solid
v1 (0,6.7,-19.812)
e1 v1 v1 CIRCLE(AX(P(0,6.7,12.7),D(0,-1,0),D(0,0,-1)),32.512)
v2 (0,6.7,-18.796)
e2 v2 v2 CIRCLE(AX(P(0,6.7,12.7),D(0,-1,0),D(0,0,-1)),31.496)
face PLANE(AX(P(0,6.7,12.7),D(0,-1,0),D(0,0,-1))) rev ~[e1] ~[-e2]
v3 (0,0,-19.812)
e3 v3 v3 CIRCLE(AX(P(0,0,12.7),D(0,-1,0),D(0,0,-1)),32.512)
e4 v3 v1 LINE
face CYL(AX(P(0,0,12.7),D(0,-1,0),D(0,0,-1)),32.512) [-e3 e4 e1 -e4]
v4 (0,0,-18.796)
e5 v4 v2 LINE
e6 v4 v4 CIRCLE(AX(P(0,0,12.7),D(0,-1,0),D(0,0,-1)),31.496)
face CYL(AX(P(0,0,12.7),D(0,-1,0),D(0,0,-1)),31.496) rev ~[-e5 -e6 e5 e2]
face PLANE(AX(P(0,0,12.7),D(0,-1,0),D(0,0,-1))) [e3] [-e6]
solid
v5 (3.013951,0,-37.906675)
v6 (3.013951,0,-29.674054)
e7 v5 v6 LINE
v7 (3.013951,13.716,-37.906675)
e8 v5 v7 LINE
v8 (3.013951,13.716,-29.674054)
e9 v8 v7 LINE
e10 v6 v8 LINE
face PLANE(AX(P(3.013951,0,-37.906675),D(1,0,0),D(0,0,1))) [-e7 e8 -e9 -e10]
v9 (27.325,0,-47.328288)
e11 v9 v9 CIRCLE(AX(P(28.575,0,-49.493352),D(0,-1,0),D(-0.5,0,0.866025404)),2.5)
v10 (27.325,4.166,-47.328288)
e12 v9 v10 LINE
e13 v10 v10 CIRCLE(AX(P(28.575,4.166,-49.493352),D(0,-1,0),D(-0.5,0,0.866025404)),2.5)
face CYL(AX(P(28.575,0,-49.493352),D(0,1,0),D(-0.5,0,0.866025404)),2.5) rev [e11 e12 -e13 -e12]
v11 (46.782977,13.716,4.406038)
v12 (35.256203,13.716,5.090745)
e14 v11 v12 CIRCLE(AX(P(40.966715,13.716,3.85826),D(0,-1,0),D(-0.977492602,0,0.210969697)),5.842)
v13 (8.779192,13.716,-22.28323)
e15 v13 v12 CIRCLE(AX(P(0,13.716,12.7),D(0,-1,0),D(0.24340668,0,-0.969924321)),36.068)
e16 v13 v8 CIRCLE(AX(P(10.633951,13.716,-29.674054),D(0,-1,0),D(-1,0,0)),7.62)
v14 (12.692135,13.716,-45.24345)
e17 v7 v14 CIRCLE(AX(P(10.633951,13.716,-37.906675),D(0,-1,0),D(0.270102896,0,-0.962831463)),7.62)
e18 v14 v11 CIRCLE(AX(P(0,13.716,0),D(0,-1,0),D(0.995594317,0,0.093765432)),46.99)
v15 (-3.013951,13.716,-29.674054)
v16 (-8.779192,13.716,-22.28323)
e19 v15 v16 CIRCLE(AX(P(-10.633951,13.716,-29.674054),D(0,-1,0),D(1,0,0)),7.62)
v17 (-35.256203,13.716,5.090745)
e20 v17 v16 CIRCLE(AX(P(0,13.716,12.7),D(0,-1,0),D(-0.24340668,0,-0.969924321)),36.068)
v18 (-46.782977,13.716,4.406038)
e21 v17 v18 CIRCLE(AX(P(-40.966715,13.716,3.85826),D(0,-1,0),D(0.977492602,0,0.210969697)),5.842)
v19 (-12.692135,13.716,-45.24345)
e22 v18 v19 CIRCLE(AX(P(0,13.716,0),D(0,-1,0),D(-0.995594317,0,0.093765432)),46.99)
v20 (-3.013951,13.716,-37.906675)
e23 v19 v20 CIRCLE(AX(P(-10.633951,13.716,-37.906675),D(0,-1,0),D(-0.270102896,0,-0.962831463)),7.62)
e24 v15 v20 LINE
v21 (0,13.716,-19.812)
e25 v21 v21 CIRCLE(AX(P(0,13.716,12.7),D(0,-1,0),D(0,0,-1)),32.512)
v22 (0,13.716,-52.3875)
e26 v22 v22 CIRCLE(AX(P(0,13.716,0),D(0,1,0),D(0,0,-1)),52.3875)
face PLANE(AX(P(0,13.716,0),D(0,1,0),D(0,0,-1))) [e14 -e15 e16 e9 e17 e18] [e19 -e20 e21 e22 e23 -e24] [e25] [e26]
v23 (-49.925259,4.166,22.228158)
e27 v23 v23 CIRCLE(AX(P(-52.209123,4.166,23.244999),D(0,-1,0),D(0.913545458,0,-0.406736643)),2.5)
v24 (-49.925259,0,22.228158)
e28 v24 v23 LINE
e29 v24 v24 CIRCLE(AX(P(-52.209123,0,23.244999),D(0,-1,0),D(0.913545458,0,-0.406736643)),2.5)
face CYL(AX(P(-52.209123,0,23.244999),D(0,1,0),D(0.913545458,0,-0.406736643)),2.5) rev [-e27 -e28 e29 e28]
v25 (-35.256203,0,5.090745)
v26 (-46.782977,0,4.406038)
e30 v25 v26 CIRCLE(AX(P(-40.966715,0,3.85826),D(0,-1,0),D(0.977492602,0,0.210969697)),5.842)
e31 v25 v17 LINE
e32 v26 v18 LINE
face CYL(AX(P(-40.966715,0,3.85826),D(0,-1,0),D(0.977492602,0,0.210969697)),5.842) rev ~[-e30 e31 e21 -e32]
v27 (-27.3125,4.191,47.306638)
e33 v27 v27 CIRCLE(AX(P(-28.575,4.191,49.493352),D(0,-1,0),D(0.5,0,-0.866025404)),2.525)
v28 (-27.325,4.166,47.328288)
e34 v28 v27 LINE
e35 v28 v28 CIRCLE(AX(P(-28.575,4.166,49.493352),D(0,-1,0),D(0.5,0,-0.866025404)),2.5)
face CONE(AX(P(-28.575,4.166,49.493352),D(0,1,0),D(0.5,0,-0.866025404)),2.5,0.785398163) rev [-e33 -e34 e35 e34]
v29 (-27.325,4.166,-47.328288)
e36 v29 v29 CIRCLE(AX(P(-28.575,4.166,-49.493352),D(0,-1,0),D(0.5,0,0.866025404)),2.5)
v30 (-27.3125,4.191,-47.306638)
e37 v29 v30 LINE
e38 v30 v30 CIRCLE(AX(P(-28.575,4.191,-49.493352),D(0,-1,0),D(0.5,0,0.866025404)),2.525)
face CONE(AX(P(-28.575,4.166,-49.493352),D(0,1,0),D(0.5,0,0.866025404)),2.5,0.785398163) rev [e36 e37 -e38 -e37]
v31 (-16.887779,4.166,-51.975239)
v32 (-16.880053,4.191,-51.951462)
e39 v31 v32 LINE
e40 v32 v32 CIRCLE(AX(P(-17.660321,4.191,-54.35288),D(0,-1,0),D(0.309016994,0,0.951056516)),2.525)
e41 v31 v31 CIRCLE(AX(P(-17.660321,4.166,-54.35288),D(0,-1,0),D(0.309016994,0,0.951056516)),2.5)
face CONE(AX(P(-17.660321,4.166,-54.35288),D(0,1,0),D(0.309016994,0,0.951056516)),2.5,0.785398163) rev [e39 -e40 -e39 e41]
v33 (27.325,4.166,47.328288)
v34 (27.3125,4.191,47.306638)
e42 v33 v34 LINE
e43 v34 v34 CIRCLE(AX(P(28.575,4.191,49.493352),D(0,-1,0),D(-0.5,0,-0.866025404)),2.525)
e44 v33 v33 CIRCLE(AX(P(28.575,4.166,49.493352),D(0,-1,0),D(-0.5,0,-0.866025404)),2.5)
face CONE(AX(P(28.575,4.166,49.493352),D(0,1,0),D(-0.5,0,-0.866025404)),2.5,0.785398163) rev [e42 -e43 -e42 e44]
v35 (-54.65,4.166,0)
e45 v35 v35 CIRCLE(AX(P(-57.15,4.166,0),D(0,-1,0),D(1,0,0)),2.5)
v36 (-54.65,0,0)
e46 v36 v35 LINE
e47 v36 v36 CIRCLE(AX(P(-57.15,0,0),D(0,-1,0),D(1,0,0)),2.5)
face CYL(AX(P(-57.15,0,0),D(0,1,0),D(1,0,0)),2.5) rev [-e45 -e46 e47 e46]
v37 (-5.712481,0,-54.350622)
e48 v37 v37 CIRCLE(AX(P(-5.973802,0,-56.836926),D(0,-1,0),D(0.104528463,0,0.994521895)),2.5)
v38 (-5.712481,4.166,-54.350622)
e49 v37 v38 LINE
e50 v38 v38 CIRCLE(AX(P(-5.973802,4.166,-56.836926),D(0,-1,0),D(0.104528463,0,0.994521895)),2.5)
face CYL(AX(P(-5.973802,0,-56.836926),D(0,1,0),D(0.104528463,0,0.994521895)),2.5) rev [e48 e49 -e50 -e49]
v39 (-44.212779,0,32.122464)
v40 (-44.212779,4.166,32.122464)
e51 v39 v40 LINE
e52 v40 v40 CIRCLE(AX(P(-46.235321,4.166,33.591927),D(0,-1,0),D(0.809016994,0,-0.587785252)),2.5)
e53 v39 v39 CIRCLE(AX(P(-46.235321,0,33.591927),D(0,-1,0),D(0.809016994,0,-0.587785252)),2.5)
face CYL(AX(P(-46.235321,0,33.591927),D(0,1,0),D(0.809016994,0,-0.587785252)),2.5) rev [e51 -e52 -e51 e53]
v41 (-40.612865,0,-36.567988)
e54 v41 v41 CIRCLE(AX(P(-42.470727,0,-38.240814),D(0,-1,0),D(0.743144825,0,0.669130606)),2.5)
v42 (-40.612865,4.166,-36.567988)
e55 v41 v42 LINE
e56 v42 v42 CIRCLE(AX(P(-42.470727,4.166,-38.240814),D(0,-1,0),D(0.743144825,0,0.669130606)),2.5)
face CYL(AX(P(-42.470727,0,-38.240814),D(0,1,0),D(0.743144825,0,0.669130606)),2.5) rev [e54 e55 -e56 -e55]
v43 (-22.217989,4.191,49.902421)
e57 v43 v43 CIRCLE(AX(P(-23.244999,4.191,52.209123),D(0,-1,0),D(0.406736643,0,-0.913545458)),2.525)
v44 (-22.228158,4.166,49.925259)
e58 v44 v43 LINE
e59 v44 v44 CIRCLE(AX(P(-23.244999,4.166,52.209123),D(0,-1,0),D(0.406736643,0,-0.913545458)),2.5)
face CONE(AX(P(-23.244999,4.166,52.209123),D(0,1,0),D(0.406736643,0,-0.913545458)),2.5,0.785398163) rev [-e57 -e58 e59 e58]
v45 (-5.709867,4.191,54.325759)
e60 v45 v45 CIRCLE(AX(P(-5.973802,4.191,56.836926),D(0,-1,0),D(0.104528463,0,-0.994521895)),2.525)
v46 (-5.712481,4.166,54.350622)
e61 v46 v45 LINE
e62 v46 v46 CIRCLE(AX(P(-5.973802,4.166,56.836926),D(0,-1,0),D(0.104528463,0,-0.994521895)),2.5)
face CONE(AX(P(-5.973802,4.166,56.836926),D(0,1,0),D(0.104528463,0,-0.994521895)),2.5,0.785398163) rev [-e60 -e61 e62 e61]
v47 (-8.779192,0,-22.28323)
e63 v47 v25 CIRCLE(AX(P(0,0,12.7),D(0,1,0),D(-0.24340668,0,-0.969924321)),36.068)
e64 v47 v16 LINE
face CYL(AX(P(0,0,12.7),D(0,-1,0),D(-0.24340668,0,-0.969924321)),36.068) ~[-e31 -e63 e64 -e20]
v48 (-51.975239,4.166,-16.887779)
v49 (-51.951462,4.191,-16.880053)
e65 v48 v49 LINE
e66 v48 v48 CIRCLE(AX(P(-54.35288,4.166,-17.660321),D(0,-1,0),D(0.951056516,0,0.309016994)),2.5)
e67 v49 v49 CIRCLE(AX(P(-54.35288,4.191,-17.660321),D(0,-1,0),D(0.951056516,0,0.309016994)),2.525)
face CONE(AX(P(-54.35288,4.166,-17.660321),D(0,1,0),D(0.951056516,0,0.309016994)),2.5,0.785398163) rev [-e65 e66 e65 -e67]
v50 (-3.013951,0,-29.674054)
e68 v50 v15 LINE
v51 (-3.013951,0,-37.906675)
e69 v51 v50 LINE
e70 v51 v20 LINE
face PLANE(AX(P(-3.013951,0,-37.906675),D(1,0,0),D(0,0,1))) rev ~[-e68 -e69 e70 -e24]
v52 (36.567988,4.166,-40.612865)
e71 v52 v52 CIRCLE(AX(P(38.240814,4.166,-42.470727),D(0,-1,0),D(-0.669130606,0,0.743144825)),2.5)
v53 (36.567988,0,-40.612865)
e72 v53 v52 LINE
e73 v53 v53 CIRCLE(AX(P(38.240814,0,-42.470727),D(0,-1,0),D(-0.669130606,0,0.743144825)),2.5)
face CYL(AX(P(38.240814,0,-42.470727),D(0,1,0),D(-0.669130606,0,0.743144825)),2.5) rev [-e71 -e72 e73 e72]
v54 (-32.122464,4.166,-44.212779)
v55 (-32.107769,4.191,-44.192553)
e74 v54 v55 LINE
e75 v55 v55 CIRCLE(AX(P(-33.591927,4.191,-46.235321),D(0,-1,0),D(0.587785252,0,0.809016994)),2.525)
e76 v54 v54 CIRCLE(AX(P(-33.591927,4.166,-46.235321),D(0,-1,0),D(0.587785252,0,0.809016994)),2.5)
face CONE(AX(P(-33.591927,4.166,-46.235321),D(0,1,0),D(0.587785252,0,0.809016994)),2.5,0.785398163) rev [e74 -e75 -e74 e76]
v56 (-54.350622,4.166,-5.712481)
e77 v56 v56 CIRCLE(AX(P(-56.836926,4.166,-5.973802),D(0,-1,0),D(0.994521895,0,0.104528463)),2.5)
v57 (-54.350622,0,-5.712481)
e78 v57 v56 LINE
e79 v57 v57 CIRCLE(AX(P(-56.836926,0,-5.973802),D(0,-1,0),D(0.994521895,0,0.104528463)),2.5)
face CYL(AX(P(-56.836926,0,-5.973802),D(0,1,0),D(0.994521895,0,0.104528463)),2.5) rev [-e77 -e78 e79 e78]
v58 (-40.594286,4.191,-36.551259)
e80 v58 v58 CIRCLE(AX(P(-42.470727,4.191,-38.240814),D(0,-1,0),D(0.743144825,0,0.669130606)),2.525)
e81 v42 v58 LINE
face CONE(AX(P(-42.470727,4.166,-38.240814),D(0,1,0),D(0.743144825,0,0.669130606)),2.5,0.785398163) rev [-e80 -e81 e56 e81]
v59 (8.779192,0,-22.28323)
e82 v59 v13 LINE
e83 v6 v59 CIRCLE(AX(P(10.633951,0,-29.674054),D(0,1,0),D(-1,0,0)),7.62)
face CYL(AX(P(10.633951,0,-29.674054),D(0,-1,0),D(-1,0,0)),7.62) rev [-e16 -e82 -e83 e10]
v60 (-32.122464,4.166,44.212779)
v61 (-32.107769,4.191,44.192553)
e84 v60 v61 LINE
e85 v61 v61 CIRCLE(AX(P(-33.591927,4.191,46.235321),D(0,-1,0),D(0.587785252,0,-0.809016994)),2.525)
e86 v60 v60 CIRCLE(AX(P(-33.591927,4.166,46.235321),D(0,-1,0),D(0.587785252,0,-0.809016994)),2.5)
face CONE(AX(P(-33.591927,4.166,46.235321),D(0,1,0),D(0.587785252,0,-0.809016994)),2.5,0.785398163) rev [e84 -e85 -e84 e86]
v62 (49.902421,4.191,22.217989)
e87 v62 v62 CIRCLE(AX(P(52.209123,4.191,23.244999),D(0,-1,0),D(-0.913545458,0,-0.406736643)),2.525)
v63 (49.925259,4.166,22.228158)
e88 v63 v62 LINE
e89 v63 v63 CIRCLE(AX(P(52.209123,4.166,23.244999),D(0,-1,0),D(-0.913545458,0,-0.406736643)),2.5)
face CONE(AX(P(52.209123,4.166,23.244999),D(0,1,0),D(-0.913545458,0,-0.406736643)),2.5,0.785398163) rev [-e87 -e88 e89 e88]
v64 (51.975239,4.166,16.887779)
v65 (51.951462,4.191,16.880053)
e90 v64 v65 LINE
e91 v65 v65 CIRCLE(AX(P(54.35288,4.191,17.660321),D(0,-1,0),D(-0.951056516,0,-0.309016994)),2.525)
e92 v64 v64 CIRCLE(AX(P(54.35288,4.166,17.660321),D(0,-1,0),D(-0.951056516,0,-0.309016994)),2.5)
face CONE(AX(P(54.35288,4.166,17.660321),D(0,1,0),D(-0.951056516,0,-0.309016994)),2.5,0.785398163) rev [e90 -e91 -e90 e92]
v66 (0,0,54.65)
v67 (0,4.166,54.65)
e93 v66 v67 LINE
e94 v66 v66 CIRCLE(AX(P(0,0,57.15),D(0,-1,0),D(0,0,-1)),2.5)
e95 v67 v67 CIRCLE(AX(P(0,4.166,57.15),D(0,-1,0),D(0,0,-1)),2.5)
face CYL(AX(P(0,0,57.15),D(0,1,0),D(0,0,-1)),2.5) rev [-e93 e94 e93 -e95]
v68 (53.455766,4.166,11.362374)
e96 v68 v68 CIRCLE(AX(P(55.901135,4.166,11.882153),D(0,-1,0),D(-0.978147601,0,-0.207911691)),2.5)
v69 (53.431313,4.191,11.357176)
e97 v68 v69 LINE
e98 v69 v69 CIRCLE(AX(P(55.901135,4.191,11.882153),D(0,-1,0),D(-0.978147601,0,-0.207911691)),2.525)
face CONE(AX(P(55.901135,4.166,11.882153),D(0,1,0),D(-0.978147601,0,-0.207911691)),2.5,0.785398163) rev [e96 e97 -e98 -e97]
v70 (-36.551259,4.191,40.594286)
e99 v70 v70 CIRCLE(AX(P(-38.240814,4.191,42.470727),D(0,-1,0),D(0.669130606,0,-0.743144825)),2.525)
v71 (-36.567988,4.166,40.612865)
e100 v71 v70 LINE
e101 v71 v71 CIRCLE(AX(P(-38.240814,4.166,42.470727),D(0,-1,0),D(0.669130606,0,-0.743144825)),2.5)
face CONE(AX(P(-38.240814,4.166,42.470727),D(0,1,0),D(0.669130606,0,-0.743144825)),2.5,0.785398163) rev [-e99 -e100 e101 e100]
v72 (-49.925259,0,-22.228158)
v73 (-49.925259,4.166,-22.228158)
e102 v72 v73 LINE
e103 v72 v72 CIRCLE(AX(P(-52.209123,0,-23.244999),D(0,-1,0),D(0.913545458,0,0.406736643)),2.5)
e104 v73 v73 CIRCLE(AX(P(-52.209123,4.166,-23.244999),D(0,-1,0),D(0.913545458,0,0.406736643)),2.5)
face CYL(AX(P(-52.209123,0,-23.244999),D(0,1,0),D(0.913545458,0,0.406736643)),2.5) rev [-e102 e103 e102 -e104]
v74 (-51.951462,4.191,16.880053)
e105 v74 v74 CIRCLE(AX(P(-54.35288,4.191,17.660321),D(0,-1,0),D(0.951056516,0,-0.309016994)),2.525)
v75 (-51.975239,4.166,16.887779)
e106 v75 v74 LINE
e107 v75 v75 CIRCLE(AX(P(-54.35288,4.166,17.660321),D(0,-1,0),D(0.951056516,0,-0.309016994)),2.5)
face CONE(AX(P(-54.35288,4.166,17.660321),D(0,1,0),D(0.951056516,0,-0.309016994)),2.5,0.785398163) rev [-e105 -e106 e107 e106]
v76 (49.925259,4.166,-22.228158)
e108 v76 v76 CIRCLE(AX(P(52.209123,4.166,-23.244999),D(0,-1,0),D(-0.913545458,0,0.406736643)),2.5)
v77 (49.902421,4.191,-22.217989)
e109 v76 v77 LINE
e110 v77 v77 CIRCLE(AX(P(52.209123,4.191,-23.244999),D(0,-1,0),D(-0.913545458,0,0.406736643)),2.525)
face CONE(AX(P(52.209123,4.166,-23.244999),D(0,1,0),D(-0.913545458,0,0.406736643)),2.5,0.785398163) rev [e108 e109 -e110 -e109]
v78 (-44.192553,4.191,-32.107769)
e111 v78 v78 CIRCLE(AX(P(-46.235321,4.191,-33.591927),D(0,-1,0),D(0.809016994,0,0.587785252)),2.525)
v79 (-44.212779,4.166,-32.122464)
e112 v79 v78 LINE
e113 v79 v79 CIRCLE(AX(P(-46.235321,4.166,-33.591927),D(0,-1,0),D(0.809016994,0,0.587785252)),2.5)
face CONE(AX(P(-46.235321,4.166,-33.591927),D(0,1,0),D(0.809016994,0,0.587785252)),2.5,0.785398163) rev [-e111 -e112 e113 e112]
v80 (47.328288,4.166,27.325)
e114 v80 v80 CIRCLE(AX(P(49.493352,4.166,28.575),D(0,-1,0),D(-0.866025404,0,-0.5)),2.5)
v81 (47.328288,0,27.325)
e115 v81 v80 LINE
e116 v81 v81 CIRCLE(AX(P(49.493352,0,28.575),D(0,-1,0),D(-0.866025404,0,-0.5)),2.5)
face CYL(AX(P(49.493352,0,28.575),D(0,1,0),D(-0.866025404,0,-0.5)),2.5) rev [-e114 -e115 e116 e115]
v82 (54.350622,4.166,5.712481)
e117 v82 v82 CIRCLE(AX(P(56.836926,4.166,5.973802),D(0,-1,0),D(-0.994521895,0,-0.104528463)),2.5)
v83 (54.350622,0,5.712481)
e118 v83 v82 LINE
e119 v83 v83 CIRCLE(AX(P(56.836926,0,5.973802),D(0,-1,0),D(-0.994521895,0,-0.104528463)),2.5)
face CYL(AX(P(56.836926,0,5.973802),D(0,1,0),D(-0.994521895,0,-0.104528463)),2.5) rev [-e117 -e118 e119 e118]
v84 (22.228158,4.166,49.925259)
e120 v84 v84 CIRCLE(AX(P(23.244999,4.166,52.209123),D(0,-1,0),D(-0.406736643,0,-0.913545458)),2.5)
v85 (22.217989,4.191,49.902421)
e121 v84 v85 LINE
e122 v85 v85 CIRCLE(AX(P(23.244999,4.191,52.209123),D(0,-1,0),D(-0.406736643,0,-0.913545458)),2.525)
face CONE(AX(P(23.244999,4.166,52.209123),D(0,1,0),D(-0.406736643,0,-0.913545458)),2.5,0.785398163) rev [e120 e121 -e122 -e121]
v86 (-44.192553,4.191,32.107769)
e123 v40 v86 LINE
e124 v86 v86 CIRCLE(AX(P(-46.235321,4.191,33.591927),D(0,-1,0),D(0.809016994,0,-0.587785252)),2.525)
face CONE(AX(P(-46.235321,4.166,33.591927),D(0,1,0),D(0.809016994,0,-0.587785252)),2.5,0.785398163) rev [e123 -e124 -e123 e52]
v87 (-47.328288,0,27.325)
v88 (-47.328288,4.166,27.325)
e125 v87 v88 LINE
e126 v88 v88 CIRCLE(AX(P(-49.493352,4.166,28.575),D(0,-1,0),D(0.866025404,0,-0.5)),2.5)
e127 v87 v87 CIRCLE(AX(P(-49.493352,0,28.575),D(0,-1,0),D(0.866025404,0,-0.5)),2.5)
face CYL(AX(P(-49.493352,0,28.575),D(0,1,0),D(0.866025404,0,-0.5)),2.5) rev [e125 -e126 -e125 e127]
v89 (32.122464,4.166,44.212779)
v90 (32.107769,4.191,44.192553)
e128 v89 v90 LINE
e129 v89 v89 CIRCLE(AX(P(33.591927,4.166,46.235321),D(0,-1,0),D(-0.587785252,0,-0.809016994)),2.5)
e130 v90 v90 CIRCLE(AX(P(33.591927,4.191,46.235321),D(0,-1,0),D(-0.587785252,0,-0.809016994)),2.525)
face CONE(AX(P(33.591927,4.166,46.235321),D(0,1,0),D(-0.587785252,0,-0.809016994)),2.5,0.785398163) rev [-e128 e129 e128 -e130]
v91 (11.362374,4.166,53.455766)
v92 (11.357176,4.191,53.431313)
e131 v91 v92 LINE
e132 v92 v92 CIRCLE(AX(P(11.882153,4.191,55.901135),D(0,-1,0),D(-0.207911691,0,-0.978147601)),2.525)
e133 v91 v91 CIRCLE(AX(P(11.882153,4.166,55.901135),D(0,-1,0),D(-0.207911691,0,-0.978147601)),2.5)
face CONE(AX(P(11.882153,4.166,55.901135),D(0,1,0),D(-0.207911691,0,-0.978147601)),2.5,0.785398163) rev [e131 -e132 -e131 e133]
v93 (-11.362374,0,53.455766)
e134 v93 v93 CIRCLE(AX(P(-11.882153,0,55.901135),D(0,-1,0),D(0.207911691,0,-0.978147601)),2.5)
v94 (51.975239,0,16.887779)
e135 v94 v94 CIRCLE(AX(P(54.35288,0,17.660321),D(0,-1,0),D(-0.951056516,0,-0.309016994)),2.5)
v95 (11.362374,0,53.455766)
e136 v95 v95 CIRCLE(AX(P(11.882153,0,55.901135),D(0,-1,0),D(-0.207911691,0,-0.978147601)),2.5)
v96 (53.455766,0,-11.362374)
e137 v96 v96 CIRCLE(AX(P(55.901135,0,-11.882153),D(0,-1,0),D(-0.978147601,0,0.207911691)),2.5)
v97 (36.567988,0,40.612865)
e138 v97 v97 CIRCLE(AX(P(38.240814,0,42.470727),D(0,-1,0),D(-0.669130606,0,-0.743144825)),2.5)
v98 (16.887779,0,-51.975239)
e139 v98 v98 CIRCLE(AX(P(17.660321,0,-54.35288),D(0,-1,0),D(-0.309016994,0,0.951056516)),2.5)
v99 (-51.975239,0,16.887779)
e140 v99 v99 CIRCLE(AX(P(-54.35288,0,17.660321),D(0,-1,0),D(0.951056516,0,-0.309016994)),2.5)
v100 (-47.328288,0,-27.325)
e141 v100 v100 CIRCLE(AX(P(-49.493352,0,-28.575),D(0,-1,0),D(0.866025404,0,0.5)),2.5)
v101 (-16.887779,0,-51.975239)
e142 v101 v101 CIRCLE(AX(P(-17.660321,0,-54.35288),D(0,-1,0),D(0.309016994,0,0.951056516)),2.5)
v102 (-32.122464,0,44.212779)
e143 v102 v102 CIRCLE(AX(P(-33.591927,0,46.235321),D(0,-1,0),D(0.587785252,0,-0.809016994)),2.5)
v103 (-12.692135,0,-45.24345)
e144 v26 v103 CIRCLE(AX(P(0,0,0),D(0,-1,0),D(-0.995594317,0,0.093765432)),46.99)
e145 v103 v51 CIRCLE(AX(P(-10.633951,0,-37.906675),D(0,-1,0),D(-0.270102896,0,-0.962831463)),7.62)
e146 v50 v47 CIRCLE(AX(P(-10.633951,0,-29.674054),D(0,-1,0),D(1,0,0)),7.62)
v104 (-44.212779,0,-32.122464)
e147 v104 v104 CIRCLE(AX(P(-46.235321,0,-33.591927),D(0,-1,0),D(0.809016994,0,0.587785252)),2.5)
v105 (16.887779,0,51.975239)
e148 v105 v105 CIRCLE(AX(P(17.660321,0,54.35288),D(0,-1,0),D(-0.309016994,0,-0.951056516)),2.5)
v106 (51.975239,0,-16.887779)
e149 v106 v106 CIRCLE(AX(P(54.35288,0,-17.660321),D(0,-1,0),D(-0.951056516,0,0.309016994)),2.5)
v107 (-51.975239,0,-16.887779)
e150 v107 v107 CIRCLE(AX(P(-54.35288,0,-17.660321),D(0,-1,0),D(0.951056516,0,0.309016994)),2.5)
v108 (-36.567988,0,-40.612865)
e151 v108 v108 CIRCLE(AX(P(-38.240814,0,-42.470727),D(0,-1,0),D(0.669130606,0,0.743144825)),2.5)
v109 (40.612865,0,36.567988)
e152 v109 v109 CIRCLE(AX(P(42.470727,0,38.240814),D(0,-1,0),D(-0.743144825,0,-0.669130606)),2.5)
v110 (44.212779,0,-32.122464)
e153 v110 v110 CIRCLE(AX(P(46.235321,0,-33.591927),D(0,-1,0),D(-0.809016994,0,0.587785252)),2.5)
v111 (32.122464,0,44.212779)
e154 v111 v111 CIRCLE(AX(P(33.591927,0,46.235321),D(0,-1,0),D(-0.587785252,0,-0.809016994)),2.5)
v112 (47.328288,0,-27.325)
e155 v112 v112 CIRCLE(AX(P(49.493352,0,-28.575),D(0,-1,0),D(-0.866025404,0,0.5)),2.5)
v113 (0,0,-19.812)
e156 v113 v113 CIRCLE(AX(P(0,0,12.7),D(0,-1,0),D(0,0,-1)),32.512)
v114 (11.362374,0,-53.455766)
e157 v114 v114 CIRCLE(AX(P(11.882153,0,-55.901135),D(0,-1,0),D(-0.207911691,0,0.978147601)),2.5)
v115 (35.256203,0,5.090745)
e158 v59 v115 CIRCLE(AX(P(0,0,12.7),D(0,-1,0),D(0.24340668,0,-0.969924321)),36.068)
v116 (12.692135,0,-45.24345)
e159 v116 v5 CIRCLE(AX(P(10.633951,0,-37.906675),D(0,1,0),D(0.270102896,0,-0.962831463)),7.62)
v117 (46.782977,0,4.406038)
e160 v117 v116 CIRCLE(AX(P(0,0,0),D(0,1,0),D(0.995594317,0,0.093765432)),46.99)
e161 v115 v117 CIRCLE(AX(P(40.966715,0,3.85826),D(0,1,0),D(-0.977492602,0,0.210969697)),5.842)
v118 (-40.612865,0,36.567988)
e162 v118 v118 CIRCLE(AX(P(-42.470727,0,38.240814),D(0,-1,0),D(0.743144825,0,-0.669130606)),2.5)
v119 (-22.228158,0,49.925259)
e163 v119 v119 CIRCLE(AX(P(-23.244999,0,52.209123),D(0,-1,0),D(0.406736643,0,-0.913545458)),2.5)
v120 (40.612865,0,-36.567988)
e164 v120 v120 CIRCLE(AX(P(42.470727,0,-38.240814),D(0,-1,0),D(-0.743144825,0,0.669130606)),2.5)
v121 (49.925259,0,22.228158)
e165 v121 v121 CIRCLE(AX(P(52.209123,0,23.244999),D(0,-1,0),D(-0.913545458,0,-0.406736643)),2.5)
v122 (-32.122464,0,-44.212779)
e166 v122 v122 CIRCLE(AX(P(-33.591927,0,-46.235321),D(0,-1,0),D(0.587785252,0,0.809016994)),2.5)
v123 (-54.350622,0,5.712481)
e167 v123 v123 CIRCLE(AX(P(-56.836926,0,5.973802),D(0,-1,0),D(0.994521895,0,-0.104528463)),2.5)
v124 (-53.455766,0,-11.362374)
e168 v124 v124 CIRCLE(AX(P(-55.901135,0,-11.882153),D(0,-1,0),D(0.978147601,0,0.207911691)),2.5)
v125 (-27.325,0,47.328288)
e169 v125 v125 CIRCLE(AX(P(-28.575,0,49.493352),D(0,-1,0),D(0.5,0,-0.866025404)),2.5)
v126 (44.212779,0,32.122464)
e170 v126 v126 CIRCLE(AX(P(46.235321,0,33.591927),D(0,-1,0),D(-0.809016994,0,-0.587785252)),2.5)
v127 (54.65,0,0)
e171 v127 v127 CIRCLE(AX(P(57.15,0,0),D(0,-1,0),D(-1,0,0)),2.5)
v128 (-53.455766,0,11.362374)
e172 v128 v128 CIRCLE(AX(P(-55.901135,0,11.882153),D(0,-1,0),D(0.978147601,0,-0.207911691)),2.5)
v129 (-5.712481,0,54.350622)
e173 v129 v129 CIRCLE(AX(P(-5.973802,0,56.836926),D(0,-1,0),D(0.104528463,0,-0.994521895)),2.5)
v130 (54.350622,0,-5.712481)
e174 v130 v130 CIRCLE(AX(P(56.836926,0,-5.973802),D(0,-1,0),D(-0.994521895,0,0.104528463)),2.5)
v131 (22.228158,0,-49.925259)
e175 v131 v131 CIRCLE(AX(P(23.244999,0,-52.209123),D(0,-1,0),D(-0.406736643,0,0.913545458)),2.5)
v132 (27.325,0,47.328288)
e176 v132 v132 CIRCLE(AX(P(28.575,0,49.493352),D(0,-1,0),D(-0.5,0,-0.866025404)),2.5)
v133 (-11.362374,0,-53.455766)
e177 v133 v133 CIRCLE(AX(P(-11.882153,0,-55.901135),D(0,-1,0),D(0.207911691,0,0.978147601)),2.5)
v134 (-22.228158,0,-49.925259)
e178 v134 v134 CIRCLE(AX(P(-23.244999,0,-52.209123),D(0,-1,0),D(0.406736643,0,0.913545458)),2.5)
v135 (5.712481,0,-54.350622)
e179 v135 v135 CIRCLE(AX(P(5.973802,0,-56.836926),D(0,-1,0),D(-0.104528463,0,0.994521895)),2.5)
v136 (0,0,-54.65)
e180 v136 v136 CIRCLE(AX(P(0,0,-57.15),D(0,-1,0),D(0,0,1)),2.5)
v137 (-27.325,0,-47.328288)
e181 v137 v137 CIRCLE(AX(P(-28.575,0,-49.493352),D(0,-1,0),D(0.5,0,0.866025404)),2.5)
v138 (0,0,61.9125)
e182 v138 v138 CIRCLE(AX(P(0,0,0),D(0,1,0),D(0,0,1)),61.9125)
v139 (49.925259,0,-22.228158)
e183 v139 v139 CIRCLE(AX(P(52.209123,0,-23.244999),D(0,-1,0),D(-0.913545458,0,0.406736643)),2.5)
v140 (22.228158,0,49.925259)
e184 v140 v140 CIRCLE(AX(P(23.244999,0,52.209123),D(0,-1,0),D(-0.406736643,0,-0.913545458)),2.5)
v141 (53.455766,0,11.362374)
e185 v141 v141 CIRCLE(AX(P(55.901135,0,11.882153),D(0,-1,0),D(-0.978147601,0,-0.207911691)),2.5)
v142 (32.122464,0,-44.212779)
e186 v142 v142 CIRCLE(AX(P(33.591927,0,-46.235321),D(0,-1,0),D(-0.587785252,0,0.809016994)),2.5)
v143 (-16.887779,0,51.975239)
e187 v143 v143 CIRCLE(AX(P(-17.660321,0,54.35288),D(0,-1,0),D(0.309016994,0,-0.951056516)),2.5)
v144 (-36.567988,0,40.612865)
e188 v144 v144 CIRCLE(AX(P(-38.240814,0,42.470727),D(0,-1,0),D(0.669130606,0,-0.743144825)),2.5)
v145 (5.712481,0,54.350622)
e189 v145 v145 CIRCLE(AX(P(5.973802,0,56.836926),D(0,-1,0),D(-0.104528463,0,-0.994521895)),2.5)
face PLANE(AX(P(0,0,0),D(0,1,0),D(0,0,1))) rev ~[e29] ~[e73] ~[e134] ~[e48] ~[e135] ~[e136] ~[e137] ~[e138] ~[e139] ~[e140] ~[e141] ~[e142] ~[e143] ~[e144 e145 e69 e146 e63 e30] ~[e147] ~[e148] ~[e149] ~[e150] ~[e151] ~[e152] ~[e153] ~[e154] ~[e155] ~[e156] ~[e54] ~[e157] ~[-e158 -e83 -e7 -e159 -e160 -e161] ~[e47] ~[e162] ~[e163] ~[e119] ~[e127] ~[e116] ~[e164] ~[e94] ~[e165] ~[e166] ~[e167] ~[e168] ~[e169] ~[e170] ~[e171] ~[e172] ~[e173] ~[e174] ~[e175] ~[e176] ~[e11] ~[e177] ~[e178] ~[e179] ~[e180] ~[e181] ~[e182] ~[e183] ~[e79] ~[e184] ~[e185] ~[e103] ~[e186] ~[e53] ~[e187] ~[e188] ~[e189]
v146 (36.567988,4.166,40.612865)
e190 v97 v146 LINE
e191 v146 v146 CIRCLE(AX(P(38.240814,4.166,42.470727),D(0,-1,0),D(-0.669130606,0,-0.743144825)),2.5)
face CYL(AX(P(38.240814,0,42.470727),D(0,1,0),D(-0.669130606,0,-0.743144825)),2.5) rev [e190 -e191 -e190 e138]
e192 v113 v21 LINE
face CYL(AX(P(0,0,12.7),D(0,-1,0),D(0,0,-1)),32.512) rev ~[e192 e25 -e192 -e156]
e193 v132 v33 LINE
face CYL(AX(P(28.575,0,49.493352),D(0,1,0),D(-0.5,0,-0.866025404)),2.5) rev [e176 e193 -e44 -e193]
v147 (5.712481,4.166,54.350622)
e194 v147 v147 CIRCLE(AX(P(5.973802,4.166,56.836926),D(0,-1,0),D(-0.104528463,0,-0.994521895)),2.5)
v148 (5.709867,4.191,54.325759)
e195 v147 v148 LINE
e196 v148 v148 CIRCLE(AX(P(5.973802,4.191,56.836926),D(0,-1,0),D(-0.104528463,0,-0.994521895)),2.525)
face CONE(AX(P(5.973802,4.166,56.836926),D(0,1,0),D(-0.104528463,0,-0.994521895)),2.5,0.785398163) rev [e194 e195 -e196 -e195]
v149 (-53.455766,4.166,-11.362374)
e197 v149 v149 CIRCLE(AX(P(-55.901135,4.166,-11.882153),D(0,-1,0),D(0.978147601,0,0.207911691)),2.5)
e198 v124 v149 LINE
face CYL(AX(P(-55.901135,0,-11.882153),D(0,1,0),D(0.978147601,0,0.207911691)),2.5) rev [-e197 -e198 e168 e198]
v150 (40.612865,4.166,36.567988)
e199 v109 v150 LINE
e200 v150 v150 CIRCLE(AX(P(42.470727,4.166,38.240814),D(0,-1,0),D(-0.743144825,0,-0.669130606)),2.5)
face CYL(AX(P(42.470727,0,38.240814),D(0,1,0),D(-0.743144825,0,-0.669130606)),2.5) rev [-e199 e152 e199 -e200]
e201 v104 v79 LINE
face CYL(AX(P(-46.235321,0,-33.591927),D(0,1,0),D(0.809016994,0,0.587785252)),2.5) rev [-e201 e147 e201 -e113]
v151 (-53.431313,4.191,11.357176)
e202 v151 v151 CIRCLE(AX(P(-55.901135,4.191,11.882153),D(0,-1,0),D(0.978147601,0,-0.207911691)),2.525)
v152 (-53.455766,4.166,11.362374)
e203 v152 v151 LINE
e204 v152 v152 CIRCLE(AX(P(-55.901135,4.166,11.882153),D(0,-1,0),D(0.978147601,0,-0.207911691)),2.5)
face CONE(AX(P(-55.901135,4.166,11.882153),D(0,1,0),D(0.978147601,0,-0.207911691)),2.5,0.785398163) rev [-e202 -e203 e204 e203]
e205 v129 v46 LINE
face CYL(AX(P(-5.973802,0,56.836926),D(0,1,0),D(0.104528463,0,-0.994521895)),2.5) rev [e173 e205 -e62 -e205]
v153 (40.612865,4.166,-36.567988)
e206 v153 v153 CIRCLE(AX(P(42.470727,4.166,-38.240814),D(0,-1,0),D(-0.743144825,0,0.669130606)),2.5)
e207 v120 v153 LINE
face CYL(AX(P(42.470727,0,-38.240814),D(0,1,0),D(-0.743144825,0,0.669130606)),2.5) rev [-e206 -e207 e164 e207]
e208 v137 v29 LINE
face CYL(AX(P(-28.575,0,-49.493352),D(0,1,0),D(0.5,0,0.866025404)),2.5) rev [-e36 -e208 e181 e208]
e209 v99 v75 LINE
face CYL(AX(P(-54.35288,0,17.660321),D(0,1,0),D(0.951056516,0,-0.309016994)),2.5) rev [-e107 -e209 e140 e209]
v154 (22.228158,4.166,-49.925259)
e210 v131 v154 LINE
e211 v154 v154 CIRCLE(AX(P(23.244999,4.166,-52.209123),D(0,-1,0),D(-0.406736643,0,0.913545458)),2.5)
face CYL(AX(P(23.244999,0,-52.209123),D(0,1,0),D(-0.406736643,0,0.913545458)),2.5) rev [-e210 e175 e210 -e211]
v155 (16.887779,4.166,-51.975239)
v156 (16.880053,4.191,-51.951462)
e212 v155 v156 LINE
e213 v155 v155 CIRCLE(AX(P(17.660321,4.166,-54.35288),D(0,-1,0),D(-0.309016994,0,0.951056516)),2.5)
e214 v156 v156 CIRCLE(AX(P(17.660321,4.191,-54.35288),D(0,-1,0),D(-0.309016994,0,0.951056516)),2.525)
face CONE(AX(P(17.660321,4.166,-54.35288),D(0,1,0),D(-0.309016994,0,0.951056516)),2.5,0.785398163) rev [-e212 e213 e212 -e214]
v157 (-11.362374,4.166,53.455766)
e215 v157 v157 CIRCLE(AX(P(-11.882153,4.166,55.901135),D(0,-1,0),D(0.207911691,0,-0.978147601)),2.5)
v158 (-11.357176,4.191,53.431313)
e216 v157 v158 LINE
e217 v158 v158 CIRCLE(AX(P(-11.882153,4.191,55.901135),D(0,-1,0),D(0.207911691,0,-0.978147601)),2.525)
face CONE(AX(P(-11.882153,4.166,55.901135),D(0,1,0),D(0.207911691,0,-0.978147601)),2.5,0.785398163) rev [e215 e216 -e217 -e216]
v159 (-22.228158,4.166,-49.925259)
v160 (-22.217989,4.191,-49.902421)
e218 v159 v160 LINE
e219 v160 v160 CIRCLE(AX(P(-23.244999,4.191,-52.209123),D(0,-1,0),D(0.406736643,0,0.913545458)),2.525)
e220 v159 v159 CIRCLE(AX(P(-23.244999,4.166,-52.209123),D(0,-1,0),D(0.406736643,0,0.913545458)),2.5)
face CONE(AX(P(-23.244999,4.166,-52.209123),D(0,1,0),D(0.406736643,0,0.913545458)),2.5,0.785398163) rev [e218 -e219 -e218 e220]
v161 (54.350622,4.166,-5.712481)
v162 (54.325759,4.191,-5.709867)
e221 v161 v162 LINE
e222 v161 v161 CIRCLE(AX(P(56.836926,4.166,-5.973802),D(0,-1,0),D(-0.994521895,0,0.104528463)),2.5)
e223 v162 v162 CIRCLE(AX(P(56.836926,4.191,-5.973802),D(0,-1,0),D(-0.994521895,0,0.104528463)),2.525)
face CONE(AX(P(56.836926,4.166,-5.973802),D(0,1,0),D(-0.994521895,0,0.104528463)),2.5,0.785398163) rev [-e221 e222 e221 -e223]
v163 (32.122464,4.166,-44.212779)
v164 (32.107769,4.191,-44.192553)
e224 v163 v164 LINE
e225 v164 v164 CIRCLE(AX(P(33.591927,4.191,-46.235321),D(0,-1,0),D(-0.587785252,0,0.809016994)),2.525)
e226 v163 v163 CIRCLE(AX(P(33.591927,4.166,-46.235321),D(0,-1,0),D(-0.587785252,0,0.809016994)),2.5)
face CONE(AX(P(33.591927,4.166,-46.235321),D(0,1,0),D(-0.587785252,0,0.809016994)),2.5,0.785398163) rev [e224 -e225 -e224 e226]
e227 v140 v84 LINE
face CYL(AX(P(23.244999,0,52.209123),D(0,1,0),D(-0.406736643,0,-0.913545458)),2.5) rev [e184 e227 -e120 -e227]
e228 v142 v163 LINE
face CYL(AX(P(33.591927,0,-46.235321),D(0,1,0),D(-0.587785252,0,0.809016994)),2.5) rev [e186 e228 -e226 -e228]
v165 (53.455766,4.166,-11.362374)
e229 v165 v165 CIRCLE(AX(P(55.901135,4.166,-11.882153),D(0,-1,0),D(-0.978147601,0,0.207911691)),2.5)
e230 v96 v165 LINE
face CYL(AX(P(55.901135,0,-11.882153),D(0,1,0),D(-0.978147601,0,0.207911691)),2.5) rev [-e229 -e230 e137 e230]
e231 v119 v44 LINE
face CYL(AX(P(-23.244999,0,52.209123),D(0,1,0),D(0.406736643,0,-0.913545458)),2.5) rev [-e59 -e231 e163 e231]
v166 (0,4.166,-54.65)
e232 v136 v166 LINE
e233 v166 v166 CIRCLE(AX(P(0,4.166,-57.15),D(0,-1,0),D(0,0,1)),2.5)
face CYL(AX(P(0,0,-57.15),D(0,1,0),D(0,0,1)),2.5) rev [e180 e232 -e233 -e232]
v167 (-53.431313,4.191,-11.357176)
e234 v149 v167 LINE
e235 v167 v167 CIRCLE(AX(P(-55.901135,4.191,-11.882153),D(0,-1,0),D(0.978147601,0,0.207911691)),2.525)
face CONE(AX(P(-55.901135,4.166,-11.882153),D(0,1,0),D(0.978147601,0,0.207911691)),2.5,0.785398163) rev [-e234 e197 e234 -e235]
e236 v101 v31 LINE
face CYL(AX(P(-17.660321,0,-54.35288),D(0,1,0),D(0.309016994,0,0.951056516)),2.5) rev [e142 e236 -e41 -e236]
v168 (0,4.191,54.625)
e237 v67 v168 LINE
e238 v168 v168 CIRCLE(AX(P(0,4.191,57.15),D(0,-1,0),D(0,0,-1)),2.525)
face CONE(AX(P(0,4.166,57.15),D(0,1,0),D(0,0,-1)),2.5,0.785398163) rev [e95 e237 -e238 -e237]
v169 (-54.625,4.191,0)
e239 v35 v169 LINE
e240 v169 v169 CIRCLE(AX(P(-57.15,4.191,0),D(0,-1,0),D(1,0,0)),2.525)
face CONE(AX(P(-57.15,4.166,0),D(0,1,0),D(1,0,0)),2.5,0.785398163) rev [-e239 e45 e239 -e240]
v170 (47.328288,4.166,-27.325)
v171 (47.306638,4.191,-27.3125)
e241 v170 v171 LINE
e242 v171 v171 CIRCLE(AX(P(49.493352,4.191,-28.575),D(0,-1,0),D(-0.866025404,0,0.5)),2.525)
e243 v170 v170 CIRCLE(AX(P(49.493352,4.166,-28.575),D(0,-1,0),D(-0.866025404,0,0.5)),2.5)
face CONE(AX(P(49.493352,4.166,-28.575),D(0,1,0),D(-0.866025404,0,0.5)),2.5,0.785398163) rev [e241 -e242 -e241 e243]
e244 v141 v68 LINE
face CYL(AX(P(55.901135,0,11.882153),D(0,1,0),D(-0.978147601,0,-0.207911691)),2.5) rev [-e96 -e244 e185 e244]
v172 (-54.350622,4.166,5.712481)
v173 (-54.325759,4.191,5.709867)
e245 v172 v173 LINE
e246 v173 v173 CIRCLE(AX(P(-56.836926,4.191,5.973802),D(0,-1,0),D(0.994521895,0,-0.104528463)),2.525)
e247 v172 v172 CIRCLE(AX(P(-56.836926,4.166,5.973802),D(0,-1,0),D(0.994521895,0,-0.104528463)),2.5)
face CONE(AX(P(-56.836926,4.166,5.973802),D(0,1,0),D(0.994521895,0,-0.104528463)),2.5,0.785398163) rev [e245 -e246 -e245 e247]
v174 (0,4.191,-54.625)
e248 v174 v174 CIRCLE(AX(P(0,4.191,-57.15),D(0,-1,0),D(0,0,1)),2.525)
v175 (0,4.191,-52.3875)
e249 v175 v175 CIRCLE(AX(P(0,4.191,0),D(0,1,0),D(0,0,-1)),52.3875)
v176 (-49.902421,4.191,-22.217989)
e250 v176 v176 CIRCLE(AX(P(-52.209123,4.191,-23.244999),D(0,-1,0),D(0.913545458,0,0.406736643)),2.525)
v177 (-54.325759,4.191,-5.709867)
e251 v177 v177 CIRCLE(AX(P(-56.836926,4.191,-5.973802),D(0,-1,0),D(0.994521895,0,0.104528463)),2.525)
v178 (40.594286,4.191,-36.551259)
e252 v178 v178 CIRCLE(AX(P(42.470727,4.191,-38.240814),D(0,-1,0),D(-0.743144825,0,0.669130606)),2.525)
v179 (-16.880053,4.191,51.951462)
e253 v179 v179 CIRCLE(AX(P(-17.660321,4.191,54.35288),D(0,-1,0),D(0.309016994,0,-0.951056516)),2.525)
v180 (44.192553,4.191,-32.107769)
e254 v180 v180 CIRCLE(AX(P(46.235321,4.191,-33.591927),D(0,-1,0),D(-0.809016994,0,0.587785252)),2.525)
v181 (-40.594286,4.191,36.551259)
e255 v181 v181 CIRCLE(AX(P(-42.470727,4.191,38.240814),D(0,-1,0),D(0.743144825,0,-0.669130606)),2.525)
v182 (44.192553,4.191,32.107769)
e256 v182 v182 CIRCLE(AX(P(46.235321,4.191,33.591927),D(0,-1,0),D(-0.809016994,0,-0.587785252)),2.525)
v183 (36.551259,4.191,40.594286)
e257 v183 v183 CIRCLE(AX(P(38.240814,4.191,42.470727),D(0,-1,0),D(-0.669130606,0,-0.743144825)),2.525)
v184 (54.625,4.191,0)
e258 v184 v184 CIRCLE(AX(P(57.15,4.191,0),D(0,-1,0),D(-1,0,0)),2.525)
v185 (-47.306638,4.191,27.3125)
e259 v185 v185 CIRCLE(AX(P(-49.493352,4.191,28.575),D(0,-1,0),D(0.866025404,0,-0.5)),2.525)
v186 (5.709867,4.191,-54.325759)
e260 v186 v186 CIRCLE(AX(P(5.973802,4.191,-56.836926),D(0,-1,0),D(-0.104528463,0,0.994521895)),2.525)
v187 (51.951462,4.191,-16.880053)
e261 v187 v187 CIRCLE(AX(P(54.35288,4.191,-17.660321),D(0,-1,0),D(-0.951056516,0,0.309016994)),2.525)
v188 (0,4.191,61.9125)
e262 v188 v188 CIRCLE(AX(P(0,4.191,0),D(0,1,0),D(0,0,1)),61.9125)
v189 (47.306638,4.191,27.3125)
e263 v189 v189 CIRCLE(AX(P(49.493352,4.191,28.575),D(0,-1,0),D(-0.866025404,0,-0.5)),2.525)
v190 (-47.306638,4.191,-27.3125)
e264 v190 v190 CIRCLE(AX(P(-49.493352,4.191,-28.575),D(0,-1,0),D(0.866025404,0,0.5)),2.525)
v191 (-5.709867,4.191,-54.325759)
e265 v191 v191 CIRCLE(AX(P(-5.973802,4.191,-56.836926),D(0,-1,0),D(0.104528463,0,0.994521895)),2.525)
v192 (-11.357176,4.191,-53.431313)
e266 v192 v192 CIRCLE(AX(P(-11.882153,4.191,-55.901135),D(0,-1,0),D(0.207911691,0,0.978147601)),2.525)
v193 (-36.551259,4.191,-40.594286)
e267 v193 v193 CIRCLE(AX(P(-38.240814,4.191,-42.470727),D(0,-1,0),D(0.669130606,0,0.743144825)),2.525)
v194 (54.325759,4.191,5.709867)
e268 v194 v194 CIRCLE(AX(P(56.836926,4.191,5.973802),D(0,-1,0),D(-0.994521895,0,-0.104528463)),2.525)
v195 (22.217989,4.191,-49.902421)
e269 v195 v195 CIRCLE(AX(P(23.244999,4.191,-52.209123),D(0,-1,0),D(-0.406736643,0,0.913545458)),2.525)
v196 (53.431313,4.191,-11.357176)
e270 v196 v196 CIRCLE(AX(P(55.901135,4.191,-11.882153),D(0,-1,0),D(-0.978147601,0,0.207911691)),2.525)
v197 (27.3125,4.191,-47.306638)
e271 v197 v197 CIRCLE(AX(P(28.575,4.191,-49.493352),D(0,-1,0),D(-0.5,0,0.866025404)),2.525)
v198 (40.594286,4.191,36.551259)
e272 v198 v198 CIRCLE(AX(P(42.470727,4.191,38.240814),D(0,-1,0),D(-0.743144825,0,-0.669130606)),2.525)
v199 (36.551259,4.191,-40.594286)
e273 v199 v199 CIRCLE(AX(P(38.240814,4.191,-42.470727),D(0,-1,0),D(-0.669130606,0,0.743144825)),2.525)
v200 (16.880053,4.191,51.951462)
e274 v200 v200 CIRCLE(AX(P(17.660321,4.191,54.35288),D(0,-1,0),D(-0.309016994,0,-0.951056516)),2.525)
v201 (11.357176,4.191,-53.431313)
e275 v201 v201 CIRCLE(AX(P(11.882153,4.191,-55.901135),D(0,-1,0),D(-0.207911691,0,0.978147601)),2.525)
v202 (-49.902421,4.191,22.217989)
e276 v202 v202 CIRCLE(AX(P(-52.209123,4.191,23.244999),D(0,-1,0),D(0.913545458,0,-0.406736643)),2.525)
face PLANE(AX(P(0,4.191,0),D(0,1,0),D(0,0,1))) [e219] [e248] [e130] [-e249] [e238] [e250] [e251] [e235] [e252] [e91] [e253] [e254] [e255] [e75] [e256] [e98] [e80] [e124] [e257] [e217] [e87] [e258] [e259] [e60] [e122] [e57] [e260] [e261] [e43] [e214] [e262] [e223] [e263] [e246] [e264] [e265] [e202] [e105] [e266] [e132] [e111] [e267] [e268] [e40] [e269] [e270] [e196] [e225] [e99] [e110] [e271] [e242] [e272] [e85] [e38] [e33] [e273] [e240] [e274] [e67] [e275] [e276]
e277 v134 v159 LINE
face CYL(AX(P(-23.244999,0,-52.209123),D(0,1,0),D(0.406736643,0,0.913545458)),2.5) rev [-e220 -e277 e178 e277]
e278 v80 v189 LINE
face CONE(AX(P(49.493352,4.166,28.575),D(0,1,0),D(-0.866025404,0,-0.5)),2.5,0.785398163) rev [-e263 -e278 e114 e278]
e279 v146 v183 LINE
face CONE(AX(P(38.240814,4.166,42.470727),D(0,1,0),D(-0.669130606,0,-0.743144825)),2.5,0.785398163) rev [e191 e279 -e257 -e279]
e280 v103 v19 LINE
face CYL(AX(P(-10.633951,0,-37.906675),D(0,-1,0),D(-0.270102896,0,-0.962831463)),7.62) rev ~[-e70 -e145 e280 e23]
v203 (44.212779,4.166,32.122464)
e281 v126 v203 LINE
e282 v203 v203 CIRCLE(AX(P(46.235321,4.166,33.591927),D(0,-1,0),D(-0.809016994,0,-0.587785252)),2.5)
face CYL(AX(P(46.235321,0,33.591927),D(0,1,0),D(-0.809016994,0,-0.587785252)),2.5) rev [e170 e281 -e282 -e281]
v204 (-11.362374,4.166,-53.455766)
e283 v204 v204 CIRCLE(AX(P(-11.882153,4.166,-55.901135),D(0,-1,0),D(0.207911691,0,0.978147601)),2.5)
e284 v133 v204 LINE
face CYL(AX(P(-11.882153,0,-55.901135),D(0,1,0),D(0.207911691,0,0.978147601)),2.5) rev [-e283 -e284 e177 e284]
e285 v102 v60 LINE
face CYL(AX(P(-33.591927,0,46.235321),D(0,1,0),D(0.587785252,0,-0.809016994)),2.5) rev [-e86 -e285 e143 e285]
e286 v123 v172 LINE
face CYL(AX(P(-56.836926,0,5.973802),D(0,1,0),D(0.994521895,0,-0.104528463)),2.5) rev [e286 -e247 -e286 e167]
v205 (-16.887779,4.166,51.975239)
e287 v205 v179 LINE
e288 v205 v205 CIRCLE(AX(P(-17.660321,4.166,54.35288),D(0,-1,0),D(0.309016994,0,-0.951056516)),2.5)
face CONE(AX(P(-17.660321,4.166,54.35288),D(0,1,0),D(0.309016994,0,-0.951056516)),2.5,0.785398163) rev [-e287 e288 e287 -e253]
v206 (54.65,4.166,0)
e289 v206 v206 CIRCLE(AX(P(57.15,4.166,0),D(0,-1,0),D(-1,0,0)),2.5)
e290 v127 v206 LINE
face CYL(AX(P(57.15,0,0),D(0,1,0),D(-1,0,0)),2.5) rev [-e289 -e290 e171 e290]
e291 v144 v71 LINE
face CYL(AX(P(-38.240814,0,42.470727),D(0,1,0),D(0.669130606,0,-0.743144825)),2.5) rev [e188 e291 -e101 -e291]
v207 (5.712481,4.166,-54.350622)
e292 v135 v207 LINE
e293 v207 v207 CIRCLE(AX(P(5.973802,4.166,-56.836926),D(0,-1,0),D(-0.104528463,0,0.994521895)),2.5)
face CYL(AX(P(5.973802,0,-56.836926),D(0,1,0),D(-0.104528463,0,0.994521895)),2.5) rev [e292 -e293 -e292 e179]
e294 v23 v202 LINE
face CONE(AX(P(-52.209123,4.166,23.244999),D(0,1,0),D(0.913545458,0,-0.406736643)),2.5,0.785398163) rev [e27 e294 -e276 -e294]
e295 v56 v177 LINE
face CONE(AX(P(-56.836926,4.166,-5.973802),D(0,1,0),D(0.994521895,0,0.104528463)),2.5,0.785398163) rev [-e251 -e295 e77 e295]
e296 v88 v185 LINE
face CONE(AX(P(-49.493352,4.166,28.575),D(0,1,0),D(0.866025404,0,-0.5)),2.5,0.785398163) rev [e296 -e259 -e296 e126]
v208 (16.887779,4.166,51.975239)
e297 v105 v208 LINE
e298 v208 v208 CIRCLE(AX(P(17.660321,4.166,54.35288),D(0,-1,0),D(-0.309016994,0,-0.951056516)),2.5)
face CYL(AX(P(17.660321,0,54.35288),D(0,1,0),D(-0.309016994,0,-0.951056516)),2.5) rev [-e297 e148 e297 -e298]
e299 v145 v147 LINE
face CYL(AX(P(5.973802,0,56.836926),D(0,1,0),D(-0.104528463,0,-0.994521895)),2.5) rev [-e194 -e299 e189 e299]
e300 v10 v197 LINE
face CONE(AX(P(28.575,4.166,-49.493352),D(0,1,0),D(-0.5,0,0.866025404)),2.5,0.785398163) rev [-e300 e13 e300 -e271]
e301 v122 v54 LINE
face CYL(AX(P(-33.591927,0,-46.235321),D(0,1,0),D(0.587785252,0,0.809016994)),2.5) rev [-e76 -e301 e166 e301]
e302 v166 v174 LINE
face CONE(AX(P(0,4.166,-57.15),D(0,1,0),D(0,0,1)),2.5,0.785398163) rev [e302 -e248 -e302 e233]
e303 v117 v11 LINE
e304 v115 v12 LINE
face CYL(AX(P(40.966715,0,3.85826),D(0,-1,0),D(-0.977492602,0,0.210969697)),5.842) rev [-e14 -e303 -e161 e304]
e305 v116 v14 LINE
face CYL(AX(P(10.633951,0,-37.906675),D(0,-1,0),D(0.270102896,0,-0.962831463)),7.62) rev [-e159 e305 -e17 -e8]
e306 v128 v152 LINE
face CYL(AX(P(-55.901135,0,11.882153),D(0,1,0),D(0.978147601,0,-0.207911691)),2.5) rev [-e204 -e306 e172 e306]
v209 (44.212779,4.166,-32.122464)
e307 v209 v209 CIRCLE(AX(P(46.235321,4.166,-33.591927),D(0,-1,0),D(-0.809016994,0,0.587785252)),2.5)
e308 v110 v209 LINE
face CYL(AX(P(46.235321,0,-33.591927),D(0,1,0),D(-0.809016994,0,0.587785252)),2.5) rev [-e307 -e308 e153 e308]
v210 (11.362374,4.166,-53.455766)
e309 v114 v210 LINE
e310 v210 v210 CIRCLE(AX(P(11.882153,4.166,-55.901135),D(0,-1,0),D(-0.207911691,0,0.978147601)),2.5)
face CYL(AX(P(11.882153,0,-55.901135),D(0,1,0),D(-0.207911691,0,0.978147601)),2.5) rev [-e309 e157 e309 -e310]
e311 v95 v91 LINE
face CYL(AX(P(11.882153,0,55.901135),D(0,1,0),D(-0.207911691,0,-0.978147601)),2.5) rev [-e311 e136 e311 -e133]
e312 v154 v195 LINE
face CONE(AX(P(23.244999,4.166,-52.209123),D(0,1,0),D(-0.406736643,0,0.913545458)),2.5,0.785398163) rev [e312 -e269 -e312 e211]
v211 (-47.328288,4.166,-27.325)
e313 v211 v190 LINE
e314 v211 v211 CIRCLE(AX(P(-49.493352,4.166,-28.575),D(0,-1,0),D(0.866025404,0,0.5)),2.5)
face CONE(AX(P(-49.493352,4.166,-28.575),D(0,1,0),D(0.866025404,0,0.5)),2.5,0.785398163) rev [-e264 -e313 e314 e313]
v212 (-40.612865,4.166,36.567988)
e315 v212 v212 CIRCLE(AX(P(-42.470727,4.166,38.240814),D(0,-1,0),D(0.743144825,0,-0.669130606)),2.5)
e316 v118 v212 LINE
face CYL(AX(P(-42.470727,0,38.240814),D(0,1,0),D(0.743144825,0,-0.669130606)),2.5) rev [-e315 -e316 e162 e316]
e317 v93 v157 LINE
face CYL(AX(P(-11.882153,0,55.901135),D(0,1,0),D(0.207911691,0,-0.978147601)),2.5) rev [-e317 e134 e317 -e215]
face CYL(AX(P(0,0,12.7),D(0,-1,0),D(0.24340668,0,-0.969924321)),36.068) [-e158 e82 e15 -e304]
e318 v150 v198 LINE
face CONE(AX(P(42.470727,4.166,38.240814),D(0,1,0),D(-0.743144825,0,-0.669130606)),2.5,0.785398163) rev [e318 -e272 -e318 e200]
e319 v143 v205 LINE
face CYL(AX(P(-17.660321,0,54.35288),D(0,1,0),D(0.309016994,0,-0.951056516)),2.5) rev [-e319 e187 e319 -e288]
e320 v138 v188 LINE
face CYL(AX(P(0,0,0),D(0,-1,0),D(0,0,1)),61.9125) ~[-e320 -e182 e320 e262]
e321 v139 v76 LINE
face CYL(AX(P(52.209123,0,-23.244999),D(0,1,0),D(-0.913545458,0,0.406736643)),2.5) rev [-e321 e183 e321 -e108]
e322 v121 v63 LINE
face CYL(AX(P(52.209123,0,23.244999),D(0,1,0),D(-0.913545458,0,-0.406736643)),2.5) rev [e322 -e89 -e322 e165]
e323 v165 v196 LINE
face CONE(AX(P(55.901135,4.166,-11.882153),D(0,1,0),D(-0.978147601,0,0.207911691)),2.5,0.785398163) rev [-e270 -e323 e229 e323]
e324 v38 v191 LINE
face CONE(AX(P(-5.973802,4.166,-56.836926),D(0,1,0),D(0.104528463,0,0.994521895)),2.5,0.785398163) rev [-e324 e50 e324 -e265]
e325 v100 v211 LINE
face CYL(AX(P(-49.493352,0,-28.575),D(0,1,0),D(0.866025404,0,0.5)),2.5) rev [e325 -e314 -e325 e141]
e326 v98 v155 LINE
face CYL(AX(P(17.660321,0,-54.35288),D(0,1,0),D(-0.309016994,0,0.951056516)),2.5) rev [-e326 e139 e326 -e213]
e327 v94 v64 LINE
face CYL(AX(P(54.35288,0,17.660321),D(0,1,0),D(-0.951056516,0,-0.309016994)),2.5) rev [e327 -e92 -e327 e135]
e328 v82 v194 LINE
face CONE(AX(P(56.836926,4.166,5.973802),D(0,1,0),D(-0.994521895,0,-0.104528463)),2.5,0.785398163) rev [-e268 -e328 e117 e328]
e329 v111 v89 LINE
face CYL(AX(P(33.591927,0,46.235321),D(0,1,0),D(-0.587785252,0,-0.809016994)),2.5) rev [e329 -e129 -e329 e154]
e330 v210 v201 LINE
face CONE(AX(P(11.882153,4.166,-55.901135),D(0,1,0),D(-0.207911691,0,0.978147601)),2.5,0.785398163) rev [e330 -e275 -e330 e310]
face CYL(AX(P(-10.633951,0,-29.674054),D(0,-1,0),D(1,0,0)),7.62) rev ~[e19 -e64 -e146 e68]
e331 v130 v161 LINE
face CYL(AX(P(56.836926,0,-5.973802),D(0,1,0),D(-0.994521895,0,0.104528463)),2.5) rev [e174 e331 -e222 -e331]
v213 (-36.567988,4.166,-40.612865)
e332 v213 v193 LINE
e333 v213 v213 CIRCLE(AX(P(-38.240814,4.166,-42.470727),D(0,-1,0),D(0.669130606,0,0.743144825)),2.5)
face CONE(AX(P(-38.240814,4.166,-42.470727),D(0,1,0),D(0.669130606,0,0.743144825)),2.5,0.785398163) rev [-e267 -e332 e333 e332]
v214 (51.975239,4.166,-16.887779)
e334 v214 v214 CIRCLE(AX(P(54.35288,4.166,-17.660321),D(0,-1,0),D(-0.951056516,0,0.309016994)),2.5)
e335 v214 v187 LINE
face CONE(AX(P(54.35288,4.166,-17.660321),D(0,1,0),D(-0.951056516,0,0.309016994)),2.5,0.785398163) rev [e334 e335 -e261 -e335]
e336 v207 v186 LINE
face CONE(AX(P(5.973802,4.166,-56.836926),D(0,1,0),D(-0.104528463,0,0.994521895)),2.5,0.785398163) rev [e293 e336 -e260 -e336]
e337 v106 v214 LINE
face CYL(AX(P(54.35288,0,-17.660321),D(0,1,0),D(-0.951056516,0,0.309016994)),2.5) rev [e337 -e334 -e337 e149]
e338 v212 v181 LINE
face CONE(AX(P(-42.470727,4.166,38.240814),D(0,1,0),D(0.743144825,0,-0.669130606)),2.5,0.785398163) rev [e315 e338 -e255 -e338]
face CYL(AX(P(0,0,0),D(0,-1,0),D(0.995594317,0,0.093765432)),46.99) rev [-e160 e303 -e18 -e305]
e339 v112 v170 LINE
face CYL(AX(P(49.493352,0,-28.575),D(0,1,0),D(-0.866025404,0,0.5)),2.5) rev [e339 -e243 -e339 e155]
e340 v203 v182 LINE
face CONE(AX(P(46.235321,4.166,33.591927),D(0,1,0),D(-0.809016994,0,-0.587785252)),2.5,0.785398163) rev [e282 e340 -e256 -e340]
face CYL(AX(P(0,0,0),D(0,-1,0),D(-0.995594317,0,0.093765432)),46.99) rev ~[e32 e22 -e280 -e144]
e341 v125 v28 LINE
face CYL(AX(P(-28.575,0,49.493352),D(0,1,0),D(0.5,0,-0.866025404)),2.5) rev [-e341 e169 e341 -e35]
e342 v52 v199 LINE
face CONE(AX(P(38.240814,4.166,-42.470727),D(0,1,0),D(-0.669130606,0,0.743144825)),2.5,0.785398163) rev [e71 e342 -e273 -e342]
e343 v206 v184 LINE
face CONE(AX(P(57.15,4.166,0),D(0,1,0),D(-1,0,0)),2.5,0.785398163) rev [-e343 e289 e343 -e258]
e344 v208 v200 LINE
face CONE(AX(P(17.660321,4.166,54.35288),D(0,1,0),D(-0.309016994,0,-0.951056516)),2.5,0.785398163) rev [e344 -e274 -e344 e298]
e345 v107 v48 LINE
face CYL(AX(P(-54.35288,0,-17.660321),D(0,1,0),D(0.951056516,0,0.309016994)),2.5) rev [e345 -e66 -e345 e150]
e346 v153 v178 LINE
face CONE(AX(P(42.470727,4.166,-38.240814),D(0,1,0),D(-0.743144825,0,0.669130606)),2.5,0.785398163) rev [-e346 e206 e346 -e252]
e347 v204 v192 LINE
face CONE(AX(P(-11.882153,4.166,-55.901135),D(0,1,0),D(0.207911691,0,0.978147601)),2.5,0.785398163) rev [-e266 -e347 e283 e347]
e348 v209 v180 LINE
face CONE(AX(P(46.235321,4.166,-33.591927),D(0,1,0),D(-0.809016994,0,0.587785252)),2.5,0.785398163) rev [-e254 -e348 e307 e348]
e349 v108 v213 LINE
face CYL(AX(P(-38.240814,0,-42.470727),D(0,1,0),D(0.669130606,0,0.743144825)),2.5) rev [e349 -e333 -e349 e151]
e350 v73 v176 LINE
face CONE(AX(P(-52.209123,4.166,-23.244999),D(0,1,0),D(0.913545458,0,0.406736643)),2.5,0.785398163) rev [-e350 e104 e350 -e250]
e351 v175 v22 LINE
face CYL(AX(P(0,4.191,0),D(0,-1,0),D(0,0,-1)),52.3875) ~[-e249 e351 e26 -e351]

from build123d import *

# Parameters (mm, degrees)
SKETCH1_R                  = 61.9125
SKETCH1_R_2                = 30.988
SLOTTED_BODY_EXTRUDE_DEPTH = 4.191
SKETCH5_R                  = 52.3875
BOSS_EXTRUDE3_DEPTH        = 9.525
SKETCH6_R                  = 32.512
CUT_EXTRUDE5_DEPTH         = 89.62530095
SKETCH8_R                  = 32.512
SKETCH8_R_2                = 31.496
BOSS_EXTRUDE4_DEPTH        = 6.700000062
CIRPATTERN1_COUNT          = 60


with BuildPart() as part:
    # Sketch1 → Slotted-Body Extrude (new body)
    with BuildSketch(Plane(origin=(0, 0, 0), x_dir=(1, 0, 0), z_dir=(0, 1, 0))):
        with Locations(Location((0, 0, 0), (0, 0, 270))):
            Circle(SKETCH1_R)
        with Locations(Location((0, -12.7, 0), (0, 0, 270))):
            Circle(SKETCH1_R_2, mode=Mode.SUBTRACT)
    extrude(amount=SLOTTED_BODY_EXTRUDE_DEPTH)

    # Sketch5 → Boss-Extrude3 (add)
    with BuildSketch(Plane(origin=(0, 4.191, 0), x_dir=(1, 0, 0), z_dir=(0, 1, 0))):
        with Locations(Location((0, 0, 0), (0, 0, 90))):
            Circle(SKETCH5_R)
    extrude(amount=BOSS_EXTRUDE3_DEPTH)

    # Sketch6 → Cut-Extrude5 (cut, through all)
    with BuildSketch(Plane.XZ):
        with Locations(Location((0, 12.7, 0), (0, 0, 270))):
            Circle(SKETCH6_R)
        with BuildLine():
            Line((3.013951015, -37.906674687), (3.013951015, -29.674053734))
            ThreePointArc((3.013951015, -29.674053734), (4.62572071, -24.987309811), (8.779192117, -22.283230408))
            ThreePointArc((8.779192117, -22.283230408), (25.925135322, -12.375645206), (35.256203169, 5.09074497))
            ThreePointArc((35.256203169, 5.09074497), (41.313127715, 9.689980346), (46.782976949, 4.406037654))
            ThreePointArc((46.782976949, 4.406037654), (38.737451576, -26.59830719), (12.692135082, -45.243450433))
            ThreePointArc((12.692135082, -45.243450433), (6.03063496, -43.979061474), (3.013951015, -37.906674687))
        make_face()
        with BuildLine():
            Line((-3.013951015, -37.906674687), (-3.013951015, -29.674053734))
            ThreePointArc((-3.013951015, -29.674053734), (-4.62572071, -24.987309811), (-8.779192117, -22.283230408))
            ThreePointArc((-8.779192117, -22.283230408), (-25.925135322, -12.375645206), (-35.256203169, 5.09074497))
            ThreePointArc((-35.256203169, 5.09074497), (-41.313127715, 9.689980346), (-46.782976949, 4.406037654))
            ThreePointArc((-46.782976949, 4.406037654), (-38.737451576, -26.59830719), (-12.692135082, -45.243450433))
            ThreePointArc((-12.692135082, -45.243450433), (-6.03063496, -43.979061474), (-3.013951015, -37.906674687))
        make_face()
    extrude(amount=-CUT_EXTRUDE5_DEPTH, mode=Mode.SUBTRACT)

    # Sketch10 → Ø5.0mm Dowel Hole1 (revolve, cut)
    with BuildSketch(Plane(origin=(0, 4.191, -57.15), x_dir=(0, 0, 1), z_dir=(1, 0, 0))):
        Polygon((0, 0), (0, 4.191), (2.5, 4.191), (2.5, 0.025), (2.525, 0), align=None)
    f_5_0mm_dowel_hole1 = revolve(axis=Axis((0, 10.541, -57.15), (0, -1, 0)), mode=Mode.SUBTRACT)

    # CirPattern1: Ø5.0mm Dowel Hole1 ×60 about axis
    cirpattern1_axis = Axis((0, 0, 0), (0, 1, 0))
    for i in range(1, CIRPATTERN1_COUNT):
        add(f_5_0mm_dowel_hole1.rotate(cirpattern1_axis, i * 360 / CIRPATTERN1_COUNT), mode=Mode.SUBTRACT)


with BuildPart() as body_2:
    # Sketch8 → Boss-Extrude4 (new body)
    with BuildSketch(Plane.XZ):
        with Locations(Location((0, 12.7, 0), (0, 0, 270))):
            Circle(SKETCH8_R)
        with Locations(Location((0, 12.7, 0), (0, 0, 270))):
            Circle(SKETCH8_R_2, mode=Mode.SUBTRACT)
    extrude(amount=-BOSS_EXTRUDE4_DEPTH)


solid = Compound([part.part, body_2.part])
